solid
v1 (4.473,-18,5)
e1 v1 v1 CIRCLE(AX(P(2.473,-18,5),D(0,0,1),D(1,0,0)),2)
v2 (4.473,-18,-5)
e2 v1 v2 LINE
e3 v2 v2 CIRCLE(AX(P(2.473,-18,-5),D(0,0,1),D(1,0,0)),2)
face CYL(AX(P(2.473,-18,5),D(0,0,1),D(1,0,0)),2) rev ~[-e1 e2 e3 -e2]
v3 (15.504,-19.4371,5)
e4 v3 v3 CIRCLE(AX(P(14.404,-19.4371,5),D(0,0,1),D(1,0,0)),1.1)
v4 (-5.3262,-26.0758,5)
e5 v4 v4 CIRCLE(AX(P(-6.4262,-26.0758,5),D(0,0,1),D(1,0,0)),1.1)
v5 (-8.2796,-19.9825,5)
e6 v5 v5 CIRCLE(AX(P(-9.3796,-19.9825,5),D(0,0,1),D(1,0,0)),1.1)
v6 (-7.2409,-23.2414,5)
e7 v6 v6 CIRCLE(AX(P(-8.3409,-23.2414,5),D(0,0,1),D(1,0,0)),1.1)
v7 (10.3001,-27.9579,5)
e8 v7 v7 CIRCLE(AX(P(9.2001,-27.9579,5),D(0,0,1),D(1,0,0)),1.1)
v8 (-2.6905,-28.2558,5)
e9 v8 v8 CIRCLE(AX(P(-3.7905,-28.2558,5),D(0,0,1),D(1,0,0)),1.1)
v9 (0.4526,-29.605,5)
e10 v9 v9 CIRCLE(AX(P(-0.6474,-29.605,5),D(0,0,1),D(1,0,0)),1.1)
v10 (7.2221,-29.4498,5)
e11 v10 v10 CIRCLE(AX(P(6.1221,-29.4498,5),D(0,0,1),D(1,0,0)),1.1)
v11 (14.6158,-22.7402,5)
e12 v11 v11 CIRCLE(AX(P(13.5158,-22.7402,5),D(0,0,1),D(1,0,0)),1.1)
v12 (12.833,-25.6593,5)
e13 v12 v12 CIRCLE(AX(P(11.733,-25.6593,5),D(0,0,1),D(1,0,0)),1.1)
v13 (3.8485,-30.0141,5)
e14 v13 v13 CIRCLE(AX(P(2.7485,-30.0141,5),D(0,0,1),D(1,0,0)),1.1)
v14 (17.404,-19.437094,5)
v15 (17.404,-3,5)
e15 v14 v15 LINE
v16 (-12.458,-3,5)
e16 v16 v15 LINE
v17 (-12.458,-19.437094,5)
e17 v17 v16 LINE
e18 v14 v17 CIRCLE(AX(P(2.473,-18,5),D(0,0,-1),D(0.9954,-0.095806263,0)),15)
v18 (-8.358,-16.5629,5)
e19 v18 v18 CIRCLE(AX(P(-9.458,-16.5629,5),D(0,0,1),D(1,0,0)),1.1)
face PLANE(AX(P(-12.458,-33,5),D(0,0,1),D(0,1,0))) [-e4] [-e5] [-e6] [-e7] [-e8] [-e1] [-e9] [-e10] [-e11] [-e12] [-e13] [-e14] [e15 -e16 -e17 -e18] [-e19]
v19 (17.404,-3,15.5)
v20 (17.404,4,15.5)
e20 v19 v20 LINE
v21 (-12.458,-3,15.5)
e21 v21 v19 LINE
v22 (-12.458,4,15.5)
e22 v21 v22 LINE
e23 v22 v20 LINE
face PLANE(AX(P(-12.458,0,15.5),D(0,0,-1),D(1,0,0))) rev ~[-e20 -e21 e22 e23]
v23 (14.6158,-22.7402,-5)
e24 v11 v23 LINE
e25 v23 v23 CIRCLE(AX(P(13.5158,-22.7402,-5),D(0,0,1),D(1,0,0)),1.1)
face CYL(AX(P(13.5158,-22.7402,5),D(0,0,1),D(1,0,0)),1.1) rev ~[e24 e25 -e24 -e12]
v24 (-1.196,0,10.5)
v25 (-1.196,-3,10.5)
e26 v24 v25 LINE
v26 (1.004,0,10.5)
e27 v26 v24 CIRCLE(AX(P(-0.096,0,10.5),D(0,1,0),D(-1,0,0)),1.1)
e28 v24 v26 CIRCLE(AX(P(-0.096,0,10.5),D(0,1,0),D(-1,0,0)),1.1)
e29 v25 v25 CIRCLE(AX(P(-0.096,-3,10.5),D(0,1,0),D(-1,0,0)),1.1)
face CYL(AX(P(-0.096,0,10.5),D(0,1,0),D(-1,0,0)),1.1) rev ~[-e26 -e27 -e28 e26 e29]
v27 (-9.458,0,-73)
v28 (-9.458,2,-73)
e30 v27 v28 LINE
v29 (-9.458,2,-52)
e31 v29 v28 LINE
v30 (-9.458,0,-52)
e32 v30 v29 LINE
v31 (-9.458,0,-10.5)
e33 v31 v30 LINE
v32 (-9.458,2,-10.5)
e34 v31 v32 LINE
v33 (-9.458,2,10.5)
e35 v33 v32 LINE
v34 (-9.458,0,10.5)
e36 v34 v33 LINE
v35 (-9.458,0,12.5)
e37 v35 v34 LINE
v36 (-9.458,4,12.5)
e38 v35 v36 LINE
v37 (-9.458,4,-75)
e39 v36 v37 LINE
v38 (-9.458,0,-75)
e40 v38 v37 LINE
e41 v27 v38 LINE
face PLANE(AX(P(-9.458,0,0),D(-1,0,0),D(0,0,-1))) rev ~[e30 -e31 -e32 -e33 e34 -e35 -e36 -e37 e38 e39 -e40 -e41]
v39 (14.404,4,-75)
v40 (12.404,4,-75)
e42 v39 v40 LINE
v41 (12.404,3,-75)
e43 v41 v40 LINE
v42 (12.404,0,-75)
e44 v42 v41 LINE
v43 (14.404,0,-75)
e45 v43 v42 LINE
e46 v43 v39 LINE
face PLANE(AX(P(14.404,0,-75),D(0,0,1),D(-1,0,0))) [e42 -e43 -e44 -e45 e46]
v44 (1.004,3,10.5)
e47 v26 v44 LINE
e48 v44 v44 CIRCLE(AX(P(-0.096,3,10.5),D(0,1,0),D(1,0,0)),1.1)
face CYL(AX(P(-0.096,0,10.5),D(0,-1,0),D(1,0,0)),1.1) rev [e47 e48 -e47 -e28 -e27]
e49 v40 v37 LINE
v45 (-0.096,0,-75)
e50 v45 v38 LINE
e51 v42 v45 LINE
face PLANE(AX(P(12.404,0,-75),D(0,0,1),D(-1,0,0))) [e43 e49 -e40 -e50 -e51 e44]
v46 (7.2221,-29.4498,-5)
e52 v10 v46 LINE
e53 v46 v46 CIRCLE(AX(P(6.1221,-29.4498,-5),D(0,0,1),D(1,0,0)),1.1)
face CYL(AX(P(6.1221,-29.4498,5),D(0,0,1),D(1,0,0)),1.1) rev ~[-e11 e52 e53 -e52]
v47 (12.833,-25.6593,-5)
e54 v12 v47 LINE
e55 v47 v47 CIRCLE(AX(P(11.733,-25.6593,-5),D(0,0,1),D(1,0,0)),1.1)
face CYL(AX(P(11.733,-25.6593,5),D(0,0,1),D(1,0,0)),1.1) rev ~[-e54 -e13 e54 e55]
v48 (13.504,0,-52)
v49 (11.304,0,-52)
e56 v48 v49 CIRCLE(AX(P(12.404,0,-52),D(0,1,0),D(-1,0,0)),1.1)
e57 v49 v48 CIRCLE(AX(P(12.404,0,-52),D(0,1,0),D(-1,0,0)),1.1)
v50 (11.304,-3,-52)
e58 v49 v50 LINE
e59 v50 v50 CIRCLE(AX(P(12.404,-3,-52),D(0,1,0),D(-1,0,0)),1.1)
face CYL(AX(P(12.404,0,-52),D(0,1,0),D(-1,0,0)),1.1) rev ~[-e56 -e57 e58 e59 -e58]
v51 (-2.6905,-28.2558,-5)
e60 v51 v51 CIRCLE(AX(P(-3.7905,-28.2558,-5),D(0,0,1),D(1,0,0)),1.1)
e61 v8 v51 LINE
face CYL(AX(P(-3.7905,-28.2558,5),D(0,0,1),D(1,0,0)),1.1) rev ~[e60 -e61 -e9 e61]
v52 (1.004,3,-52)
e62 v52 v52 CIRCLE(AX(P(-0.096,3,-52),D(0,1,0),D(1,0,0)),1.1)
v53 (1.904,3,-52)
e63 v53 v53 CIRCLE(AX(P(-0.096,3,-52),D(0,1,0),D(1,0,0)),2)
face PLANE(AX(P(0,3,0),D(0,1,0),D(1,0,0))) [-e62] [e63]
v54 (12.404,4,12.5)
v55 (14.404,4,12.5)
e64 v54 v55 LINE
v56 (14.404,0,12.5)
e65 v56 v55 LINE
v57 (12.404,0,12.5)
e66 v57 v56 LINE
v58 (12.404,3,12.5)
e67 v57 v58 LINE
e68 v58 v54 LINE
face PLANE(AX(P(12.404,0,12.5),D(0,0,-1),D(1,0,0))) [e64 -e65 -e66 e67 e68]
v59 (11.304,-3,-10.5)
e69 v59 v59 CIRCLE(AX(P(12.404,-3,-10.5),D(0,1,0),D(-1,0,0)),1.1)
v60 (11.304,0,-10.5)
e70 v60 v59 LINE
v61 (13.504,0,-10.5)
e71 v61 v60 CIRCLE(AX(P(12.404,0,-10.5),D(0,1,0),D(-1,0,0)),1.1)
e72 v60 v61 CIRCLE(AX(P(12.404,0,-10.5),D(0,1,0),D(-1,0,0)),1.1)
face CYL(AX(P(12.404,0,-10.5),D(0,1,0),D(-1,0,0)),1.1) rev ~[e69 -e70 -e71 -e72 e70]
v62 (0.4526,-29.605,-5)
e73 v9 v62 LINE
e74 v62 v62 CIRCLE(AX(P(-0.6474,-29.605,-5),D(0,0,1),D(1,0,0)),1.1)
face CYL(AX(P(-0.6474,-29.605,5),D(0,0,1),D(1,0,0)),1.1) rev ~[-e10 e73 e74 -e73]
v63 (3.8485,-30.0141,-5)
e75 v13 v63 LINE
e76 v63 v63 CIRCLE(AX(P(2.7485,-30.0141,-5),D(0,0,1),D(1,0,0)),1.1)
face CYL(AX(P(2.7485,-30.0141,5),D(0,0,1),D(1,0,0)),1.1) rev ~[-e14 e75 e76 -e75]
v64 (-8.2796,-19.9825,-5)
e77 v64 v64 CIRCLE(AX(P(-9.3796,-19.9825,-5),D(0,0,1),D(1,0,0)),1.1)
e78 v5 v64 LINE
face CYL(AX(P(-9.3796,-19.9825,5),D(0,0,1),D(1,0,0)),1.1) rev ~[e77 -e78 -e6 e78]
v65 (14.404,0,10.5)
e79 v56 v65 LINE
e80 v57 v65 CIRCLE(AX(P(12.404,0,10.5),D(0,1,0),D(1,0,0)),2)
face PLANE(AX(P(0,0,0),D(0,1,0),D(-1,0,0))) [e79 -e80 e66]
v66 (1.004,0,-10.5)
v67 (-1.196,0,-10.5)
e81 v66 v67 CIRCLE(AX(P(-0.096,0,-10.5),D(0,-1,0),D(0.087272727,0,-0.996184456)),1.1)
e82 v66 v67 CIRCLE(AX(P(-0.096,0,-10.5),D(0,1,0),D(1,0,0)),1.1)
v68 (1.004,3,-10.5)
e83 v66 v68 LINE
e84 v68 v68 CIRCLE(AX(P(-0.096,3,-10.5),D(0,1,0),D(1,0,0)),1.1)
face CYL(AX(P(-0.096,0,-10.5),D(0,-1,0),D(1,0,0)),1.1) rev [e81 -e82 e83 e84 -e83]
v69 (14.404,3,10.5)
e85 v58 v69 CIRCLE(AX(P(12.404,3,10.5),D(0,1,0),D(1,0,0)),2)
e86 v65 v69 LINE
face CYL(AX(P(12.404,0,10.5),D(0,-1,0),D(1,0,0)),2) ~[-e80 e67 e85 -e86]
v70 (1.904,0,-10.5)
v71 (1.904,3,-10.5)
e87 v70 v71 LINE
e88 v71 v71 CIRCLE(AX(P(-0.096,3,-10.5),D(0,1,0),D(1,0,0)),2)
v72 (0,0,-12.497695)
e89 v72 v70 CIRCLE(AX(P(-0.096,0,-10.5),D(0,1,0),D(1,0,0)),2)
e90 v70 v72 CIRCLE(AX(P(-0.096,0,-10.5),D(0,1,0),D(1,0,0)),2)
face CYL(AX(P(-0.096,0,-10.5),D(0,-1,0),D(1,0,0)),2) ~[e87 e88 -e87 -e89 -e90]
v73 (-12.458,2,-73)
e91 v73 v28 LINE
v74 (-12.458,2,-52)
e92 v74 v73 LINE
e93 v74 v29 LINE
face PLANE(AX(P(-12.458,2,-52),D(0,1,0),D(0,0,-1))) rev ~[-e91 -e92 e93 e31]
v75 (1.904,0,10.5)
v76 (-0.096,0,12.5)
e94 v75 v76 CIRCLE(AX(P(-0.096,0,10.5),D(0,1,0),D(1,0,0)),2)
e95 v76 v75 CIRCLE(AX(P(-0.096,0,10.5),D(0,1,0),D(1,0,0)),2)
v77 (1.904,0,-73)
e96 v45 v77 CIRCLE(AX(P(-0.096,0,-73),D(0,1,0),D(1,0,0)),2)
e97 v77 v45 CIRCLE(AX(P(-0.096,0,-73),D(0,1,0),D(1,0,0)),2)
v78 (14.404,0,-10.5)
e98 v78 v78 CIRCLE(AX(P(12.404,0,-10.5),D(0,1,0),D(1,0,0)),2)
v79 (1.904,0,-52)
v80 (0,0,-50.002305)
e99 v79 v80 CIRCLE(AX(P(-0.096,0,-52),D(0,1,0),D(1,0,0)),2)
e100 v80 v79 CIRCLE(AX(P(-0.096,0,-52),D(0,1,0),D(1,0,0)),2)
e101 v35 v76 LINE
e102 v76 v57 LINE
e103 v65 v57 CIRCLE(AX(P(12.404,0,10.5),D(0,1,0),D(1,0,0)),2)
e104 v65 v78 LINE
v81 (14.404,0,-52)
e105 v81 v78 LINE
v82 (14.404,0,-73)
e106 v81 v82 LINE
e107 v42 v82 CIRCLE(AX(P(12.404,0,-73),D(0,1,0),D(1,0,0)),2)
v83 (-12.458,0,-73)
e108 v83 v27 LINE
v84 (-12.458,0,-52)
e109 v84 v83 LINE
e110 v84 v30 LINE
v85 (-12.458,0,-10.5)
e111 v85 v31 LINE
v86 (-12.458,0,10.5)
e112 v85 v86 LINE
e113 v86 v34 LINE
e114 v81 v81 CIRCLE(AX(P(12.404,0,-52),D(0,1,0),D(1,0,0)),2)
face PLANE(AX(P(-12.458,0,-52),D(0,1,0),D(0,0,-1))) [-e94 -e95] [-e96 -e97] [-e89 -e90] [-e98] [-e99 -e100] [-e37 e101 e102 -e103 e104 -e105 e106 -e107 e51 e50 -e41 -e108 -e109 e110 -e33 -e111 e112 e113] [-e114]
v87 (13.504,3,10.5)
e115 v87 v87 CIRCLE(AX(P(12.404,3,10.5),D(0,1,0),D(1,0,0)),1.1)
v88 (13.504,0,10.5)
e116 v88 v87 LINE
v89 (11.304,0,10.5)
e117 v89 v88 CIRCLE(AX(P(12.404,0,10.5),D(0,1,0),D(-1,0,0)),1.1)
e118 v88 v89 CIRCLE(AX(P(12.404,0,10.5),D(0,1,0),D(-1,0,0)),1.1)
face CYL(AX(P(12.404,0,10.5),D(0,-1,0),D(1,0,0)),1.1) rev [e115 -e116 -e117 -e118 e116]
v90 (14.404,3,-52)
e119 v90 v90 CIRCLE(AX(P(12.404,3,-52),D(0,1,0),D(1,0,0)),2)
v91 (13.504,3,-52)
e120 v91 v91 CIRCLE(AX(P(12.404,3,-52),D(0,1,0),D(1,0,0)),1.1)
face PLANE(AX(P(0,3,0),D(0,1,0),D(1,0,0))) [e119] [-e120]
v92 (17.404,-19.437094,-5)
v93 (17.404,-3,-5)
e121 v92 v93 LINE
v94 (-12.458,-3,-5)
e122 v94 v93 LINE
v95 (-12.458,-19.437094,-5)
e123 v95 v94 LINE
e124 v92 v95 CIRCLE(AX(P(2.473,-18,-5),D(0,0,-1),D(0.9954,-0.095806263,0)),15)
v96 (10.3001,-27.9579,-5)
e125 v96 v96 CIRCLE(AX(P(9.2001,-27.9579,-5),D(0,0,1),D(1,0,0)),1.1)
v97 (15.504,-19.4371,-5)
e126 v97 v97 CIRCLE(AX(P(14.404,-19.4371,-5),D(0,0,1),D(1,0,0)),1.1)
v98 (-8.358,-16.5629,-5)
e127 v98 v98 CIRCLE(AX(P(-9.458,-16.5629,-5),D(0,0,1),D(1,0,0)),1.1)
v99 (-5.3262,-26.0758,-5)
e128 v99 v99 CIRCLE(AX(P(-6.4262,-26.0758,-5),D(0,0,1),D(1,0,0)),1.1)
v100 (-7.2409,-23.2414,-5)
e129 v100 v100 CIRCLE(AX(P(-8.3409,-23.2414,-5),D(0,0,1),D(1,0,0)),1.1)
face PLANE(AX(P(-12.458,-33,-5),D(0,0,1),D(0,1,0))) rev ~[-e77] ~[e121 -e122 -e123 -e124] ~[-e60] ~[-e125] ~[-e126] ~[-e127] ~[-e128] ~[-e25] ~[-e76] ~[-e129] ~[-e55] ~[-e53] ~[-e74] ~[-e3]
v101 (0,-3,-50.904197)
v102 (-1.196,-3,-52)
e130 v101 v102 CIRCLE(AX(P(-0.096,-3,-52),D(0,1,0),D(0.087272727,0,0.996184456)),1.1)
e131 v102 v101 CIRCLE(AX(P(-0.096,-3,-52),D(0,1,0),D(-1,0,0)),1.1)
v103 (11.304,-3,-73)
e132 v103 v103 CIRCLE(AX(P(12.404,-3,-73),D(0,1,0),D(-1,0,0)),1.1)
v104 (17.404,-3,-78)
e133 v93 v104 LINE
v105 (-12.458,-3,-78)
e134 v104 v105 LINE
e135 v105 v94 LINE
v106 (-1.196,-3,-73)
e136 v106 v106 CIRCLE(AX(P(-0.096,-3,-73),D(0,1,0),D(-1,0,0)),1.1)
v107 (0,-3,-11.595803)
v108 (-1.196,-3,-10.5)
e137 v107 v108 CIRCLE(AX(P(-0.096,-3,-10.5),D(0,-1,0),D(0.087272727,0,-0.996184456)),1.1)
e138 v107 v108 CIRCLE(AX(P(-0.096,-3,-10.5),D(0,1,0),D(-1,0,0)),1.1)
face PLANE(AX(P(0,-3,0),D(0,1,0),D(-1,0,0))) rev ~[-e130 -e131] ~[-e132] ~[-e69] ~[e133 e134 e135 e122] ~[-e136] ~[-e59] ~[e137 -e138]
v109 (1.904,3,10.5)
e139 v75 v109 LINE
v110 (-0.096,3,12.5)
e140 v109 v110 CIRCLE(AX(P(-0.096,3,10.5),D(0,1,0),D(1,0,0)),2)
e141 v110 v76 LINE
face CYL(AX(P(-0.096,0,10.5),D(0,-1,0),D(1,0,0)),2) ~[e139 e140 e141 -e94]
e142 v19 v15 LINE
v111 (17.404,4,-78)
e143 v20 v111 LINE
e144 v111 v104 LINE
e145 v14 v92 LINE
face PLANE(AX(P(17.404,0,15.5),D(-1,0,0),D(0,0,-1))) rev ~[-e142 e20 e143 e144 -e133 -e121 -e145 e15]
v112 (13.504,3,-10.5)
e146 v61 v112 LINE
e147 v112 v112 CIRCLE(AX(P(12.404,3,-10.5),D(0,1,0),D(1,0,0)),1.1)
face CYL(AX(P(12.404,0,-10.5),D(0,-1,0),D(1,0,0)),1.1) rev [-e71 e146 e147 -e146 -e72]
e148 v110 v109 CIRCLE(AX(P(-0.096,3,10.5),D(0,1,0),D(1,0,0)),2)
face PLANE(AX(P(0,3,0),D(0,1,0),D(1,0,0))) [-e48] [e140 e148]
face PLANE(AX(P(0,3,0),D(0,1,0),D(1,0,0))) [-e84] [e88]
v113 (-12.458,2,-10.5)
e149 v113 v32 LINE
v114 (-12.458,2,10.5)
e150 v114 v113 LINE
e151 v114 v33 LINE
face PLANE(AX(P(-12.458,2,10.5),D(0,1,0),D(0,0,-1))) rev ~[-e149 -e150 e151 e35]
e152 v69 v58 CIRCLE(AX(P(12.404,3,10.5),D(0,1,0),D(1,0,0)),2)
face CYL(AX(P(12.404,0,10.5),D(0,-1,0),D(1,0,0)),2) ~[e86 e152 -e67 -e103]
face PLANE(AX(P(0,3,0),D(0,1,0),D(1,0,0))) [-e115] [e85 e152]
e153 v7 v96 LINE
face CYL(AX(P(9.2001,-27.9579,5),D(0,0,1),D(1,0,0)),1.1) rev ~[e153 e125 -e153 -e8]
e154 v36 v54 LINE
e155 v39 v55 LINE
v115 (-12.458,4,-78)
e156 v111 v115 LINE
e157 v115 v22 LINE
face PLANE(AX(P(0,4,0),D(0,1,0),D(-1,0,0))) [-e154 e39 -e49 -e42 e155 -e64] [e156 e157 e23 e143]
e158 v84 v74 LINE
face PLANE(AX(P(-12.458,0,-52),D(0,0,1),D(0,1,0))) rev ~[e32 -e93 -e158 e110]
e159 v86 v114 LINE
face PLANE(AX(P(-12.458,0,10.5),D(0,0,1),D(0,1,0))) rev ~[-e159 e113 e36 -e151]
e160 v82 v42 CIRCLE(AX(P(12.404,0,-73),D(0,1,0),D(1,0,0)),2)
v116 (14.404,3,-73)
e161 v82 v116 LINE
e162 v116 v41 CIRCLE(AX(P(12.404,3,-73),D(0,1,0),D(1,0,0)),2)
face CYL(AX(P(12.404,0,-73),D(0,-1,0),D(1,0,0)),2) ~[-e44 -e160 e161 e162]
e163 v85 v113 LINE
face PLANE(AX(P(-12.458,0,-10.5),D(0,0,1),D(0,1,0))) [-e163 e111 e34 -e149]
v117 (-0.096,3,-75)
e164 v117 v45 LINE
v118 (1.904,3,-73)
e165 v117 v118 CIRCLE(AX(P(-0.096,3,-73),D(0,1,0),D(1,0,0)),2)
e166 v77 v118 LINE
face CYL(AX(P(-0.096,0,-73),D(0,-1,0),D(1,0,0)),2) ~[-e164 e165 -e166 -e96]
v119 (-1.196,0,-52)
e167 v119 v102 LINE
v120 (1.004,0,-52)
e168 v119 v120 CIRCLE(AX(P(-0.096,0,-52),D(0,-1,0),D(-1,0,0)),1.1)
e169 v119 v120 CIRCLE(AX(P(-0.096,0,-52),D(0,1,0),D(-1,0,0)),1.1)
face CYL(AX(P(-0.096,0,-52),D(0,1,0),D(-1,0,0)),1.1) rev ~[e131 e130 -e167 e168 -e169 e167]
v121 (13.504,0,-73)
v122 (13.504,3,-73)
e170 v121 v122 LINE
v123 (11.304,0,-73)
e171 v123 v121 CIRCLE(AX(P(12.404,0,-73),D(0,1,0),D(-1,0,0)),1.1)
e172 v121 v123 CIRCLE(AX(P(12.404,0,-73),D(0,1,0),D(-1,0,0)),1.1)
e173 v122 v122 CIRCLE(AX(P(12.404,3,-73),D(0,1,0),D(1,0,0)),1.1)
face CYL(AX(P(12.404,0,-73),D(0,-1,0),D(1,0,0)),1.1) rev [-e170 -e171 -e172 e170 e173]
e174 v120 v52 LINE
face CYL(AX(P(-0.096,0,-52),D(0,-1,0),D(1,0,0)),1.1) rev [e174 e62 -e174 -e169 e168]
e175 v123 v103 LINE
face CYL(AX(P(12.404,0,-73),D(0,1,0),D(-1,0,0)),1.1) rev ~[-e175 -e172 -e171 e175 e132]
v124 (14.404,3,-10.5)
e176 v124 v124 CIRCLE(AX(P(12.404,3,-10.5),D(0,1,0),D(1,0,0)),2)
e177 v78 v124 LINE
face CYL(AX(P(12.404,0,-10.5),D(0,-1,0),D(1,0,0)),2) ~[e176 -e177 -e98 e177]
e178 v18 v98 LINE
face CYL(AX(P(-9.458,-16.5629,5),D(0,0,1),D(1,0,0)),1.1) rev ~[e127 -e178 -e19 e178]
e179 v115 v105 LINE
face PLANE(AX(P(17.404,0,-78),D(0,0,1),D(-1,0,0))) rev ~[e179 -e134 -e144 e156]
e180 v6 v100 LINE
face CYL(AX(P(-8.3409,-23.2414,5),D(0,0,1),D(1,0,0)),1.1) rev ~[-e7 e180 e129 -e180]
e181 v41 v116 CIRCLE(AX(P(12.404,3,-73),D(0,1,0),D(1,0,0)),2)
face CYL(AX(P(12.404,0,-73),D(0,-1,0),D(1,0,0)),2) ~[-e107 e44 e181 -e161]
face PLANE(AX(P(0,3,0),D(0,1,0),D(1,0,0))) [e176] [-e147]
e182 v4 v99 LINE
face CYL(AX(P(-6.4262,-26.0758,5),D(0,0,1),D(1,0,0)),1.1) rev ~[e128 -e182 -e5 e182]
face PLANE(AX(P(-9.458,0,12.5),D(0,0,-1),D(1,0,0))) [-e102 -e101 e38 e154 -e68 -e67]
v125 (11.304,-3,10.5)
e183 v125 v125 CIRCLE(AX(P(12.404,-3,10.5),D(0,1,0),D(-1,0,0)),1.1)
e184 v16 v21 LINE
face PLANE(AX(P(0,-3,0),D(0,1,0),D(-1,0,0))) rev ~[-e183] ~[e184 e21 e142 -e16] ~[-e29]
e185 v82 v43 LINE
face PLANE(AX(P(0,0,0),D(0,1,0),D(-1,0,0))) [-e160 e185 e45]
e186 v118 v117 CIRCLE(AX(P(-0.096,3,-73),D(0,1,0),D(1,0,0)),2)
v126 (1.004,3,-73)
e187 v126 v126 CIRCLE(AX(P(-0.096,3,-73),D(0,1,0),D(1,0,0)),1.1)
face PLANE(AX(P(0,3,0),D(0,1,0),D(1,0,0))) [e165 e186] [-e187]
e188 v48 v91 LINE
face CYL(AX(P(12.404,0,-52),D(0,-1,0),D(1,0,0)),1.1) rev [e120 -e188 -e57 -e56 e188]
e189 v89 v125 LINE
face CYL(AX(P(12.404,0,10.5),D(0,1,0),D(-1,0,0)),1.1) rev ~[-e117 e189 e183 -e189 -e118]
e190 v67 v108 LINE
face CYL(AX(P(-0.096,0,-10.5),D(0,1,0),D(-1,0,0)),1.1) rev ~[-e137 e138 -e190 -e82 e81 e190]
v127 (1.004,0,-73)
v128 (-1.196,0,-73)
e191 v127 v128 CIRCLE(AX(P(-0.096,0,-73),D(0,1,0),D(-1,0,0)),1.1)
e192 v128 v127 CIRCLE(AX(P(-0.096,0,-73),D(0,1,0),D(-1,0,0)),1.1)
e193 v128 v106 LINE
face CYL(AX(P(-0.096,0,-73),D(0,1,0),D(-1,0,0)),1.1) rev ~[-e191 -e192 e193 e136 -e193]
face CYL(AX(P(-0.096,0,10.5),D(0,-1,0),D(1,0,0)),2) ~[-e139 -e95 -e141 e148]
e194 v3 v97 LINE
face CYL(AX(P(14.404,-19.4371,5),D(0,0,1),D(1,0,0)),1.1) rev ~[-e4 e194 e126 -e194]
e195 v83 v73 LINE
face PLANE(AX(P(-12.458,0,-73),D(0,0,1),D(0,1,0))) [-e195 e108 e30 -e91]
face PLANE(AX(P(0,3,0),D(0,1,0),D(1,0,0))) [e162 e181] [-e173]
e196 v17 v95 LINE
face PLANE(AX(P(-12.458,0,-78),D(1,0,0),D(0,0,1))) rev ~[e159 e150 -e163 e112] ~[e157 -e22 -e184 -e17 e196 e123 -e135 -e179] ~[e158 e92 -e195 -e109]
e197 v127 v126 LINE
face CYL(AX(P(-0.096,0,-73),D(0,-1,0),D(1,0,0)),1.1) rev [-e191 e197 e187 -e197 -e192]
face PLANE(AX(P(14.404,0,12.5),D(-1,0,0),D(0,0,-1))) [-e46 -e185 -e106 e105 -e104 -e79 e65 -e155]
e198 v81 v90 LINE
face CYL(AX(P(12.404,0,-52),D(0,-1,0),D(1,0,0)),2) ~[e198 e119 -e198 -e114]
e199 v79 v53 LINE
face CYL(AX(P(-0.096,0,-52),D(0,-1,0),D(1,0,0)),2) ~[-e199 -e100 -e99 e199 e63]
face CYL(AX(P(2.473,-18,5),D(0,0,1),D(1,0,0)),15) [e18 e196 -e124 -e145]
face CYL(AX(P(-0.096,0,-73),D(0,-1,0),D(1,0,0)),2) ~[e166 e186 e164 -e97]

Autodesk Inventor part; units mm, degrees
ref_plane "YZ Plane" through (0, 0, 0) normal (1, 0, 0) x (0, 1, 0)
ref_plane "XZ Plane" through (0, 0, 0) normal (0, 1, 0) x (-1, 0, 0)
ref_plane "XY Plane" through (0, 0, 0) normal (0, 0, 1) x (1, 0, 0)
sketch "Sketch1" plane through (0, 0, 0) normal (0, 1, 0) x (-1, 0, 0)
  line L0 (0, 0) -> (0, -62.5)
  line L1 (9.458, 0) -> (9.458, 12.5)
  line L2 (9.458, 12.5) -> (9.458, -12.5)
  line L3 (9.458, 12.5) -> (-14.404, 12.5)
  line L4 (-14.404, 12.5) -> (-14.404, -12.5)
  line L5 (-14.404, -12.5) -> (9.458, -12.5)
  line L6 (-14.404, 12.5) -> (-12.404, 12.5)
  line L7 (-14.404, -12.5) -> (-12.404, -12.5)
  circle A0 centre (0.096, 10.5) radius 1.1
  circle A1 centre (-12.404, 10.5) radius 1.1
  circle A2 centre (-12.404, -10.5) radius 1.1
  circle A3 centre (0.096, -10.5) radius 1.1
  line L8 (9.458, -62.5) -> (9.458, -50)
  line L9 (9.458, -50) -> (9.458, -75)
  line L10 (9.458, -50) -> (-14.404, -50)
  line L11 (-14.404, -50) -> (-14.404, -75)
  line L12 (-14.404, -75) -> (9.458, -75)
  line L13 (-14.404, -50) -> (-12.404, -50)
  line L14 (-14.404, -75) -> (-12.404, -75)
  circle A4 centre (0.096, -52) radius 1.1
  circle A5 centre (-12.404, -52) radius 1.1
  circle A6 centre (-12.404, -73) radius 1.1
  circle A7 centre (0.096, -73) radius 1.1
  line L15 (12.458, 15.5) -> (-17.404, 15.5)
  line L16 (-17.404, 15.5) -> (-17.404, -78)
  line L17 (-17.404, -78) -> (12.458, -78)
  line L18 (12.458, -78) -> (12.458, 15.5)
  line L19 (-14.404, -12.5) -> (-14.404, -50)
  line L20 (9.458, -50) -> (9.458, -12.5)
extrude "Extrusion1" add sketch "Sketch1" against normal blind 3 contours L5 L4 L3 L1 L2 | L5 L20 L10 L0 | L0 L10 L19 L5 | L10 L8 L9 L12 L11 | L18 L17 L16 L15
sketch "Sketch2" plane through (0, 0, 0) normal (0, 1, 0) x (1, 0, 0)
  circle A0 centre (-0.096, -10.5) radius 1.1 projected
  circle A1 centre (-0.096, -10.5) radius 2
  circle A2 centre (12.404, -10.5) radius 1.1 projected
  circle A3 centre (12.404, -10.5) radius 2
  circle A4 centre (12.404, 10.5) radius 1.1 projected
  circle A5 centre (12.404, 10.5) radius 2
  circle A6 centre (-0.096, 10.5) radius 2
  circle A7 centre (-0.096, 52) radius 1.1 projected
  circle A8 centre (-0.096, 52) radius 2
  circle A9 centre (-0.096, 73) radius 1.1 projected
  circle A10 centre (-0.096, 73) radius 2
  circle A11 centre (12.404, 73) radius 1.1 projected
  circle A12 centre (12.404, 73) radius 2
  circle A13 centre (12.404, 52) radius 1.1 projected
  circle A14 centre (12.404, 52) radius 2
  circle A15 centre (-0.096, 73) radius 1.1
  circle A16 centre (12.404, 73) radius 1.1
  circle A17 centre (12.404, 52) radius 1.1
  circle A18 centre (-0.096, 52) radius 1.1
  circle A19 centre (-0.096, 10.5) radius 1.1
  circle A20 centre (12.404, 10.5) radius 1.1
  circle A21 centre (12.404, -10.5) radius 1.1
  circle A22 centre (-0.096, -10.5) radius 1.1
  circle A23 centre (-0.096, 10.5) radius 1.1
  point P0 (0, 0)
  dimension "d21" = 4
  dimension "d22" = 4
  dimension "d23" = 4
  dimension "d24" = 4
  dimension "d25" = 4
  dimension "d26" = 4
  dimension "d27" = 4
  dimension "d28" = 4
extrude "Extrusion2" add sketch "Sketch2" along normal blind 3
extrude "Extrusion3" add sketch "Sketch1" along normal blind 4 contours L18 L17 L16 L15
sketch "Sketch3" plane through (-12.458, -3, -78) normal (-1, 0, 0) x (0, 0, 1)
  line L0 (89.6, 0) -> (87.4, 0) projected
  line L1 (68.6, 0) -> (66.4, 0) projected
  line L2 (27.1, 0) -> (24.9, 0) projected
  line L3 (6.1, 0) -> (3.9, 0) projected
  line L4 (88.5, 0) -> (88.5, 3)
  line L5 (88.5, 3) -> (88.5, 5)
  line L6 (88.5, 3) -> (88.5, 6) projected
  line L7 (88.5, 5) -> (67.5, 5)
  line L8 (67.5, 3) -> (67.5, 6) projected
  line L9 (67.5, 5) -> (67.5, 3)
  line L10 (67.5, 3) -> (88.5, 3)
  line L11 (27.1, 0) -> (24.9, 0) projected
  line L12 (26, 0) -> (26, 5)
  line L13 (26, 5) -> (5, 5)
  line L14 (5, 3) -> (5, 6) projected
  line L15 (5, 5) -> (5, 3)
  line L16 (26, 3) -> (5, 3) projected
  line L17 (5, 3) -> (26, 3)
  dimension "d33" = 2
  dimension "d34" = 5
extrude "Extrusion4" cut sketch "Sketch3" against normal up to surface (3 mm away)
sketch "Sketch4" plane through (-12.458, -3, -78) normal (-1, 0, 0) x (0, 0, 1)
  line L0 (0, 0) -> (93.5, 0) projected
  line L1 (78, 0) -> (78, -30)
  line L2 (78, -30) -> (83, -30)
  line L3 (83, -30) -> (73, -30)
  line L4 (73, -30) -> (73, 0)
  line L5 (83, -30) -> (83, 0)
  line L6 (73, 0) -> (83, 0)
  line L7 (78, 3) -> (78, -30)
  point P0 (78, -30)
  point P1 (83, 0)
  point P2 (73, 0)
  dimension "d37" = 30
  dimension "d38" = 5
  dimension "d39" = 10
extrude "Extrusion5" add sketch "Sketch4" against normal up to surface (29.862 mm away)
sketch "Sketch5" plane through (-12.458, -33, 5) normal (0, 0, 1) x (1, 0, 0)
  line L0 (0, 0) -> (29.862, 0) projected
  line L1 (0, 30) -> (0, 0) projected
  circle A0 centre (14.931, 15) radius 15
  line L2 (29.862, 30) -> (29.862, 0) projected
  line L3 (29.862, 0) -> (29.862, 15)
  point P0 (12.458, 33)
  point P1 (29.862, 13.5629)
  point P2 (14.931, 0)
  point P3 (0, 13.5629)
extrude "Extrusion6" cut sketch "Sketch5" against normal up to surface (10 mm away) contours L1 A0 L0 | A0 L2 L0
sketch "Sketch6" plane through (-12.458, -3, 5) normal (0, 0, 1) x (1, 0, 0)
  line L0 (29.862, -30) -> (29.862, 0) projected
  line L1 (29.862, -16.4371) -> (26.862, -16.4371)
  circle A0 centre (26.862, -16.4371) radius 1.1
  arc A1 (0, -16.4371) -> (29.862, -16.4371) centre (14.931, -15) ccw projected
  circle A2 centre (14.931, -15) radius 4.093
  circle A3 centre (25.9738, -19.7402) radius 1.1
  circle A4 centre (24.191, -22.6593) radius 1.1
  circle A5 centre (21.6581, -24.9579) radius 1.1
  circle A6 centre (18.5801, -26.4498) radius 1.1
  circle A7 centre (15.2065, -27.0141) radius 1.1
  circle A8 centre (11.8106, -26.605) radius 1.1
  circle A9 centre (8.6675, -25.2558) radius 1.1
  circle A10 centre (6.0318, -23.0758) radius 1.1
  circle A11 centre (4.1171, -20.2414) radius 1.1
  circle A12 centre (3.0784, -16.9825) radius 1.1
  circle A13 centre (3, -13.5629) radius 1.1
  point P0 (12.458, 3)
  dimension "d46" = 3
  dimension "d47" = 2.2
  dimension "d50" = 180
extrude "Extrusion7" cut sketch "Sketch6" against normal up to surface (10 mm away) contours A0 | A3 | A4 | A5 | A6 | A7 | A8 | A9 | A10 | A11 | A12 | A13
sketch "Sketch7" plane through (-12.458, -3, 5) normal (0, 0, 1) x (1, 0, 0)
  arc A0 (0, -16.4371) -> (29.862, -16.4371) centre (14.931, -15) ccw projected
  circle A1 centre (14.931, -15) radius 2
  point P0 (12.458, 3)
  dimension "d54" = 4
extrude "Extrusion8" cut sketch "Sketch7" against normal up to surface (10 mm away)
properties part number "pi_cam_stereo_board"
